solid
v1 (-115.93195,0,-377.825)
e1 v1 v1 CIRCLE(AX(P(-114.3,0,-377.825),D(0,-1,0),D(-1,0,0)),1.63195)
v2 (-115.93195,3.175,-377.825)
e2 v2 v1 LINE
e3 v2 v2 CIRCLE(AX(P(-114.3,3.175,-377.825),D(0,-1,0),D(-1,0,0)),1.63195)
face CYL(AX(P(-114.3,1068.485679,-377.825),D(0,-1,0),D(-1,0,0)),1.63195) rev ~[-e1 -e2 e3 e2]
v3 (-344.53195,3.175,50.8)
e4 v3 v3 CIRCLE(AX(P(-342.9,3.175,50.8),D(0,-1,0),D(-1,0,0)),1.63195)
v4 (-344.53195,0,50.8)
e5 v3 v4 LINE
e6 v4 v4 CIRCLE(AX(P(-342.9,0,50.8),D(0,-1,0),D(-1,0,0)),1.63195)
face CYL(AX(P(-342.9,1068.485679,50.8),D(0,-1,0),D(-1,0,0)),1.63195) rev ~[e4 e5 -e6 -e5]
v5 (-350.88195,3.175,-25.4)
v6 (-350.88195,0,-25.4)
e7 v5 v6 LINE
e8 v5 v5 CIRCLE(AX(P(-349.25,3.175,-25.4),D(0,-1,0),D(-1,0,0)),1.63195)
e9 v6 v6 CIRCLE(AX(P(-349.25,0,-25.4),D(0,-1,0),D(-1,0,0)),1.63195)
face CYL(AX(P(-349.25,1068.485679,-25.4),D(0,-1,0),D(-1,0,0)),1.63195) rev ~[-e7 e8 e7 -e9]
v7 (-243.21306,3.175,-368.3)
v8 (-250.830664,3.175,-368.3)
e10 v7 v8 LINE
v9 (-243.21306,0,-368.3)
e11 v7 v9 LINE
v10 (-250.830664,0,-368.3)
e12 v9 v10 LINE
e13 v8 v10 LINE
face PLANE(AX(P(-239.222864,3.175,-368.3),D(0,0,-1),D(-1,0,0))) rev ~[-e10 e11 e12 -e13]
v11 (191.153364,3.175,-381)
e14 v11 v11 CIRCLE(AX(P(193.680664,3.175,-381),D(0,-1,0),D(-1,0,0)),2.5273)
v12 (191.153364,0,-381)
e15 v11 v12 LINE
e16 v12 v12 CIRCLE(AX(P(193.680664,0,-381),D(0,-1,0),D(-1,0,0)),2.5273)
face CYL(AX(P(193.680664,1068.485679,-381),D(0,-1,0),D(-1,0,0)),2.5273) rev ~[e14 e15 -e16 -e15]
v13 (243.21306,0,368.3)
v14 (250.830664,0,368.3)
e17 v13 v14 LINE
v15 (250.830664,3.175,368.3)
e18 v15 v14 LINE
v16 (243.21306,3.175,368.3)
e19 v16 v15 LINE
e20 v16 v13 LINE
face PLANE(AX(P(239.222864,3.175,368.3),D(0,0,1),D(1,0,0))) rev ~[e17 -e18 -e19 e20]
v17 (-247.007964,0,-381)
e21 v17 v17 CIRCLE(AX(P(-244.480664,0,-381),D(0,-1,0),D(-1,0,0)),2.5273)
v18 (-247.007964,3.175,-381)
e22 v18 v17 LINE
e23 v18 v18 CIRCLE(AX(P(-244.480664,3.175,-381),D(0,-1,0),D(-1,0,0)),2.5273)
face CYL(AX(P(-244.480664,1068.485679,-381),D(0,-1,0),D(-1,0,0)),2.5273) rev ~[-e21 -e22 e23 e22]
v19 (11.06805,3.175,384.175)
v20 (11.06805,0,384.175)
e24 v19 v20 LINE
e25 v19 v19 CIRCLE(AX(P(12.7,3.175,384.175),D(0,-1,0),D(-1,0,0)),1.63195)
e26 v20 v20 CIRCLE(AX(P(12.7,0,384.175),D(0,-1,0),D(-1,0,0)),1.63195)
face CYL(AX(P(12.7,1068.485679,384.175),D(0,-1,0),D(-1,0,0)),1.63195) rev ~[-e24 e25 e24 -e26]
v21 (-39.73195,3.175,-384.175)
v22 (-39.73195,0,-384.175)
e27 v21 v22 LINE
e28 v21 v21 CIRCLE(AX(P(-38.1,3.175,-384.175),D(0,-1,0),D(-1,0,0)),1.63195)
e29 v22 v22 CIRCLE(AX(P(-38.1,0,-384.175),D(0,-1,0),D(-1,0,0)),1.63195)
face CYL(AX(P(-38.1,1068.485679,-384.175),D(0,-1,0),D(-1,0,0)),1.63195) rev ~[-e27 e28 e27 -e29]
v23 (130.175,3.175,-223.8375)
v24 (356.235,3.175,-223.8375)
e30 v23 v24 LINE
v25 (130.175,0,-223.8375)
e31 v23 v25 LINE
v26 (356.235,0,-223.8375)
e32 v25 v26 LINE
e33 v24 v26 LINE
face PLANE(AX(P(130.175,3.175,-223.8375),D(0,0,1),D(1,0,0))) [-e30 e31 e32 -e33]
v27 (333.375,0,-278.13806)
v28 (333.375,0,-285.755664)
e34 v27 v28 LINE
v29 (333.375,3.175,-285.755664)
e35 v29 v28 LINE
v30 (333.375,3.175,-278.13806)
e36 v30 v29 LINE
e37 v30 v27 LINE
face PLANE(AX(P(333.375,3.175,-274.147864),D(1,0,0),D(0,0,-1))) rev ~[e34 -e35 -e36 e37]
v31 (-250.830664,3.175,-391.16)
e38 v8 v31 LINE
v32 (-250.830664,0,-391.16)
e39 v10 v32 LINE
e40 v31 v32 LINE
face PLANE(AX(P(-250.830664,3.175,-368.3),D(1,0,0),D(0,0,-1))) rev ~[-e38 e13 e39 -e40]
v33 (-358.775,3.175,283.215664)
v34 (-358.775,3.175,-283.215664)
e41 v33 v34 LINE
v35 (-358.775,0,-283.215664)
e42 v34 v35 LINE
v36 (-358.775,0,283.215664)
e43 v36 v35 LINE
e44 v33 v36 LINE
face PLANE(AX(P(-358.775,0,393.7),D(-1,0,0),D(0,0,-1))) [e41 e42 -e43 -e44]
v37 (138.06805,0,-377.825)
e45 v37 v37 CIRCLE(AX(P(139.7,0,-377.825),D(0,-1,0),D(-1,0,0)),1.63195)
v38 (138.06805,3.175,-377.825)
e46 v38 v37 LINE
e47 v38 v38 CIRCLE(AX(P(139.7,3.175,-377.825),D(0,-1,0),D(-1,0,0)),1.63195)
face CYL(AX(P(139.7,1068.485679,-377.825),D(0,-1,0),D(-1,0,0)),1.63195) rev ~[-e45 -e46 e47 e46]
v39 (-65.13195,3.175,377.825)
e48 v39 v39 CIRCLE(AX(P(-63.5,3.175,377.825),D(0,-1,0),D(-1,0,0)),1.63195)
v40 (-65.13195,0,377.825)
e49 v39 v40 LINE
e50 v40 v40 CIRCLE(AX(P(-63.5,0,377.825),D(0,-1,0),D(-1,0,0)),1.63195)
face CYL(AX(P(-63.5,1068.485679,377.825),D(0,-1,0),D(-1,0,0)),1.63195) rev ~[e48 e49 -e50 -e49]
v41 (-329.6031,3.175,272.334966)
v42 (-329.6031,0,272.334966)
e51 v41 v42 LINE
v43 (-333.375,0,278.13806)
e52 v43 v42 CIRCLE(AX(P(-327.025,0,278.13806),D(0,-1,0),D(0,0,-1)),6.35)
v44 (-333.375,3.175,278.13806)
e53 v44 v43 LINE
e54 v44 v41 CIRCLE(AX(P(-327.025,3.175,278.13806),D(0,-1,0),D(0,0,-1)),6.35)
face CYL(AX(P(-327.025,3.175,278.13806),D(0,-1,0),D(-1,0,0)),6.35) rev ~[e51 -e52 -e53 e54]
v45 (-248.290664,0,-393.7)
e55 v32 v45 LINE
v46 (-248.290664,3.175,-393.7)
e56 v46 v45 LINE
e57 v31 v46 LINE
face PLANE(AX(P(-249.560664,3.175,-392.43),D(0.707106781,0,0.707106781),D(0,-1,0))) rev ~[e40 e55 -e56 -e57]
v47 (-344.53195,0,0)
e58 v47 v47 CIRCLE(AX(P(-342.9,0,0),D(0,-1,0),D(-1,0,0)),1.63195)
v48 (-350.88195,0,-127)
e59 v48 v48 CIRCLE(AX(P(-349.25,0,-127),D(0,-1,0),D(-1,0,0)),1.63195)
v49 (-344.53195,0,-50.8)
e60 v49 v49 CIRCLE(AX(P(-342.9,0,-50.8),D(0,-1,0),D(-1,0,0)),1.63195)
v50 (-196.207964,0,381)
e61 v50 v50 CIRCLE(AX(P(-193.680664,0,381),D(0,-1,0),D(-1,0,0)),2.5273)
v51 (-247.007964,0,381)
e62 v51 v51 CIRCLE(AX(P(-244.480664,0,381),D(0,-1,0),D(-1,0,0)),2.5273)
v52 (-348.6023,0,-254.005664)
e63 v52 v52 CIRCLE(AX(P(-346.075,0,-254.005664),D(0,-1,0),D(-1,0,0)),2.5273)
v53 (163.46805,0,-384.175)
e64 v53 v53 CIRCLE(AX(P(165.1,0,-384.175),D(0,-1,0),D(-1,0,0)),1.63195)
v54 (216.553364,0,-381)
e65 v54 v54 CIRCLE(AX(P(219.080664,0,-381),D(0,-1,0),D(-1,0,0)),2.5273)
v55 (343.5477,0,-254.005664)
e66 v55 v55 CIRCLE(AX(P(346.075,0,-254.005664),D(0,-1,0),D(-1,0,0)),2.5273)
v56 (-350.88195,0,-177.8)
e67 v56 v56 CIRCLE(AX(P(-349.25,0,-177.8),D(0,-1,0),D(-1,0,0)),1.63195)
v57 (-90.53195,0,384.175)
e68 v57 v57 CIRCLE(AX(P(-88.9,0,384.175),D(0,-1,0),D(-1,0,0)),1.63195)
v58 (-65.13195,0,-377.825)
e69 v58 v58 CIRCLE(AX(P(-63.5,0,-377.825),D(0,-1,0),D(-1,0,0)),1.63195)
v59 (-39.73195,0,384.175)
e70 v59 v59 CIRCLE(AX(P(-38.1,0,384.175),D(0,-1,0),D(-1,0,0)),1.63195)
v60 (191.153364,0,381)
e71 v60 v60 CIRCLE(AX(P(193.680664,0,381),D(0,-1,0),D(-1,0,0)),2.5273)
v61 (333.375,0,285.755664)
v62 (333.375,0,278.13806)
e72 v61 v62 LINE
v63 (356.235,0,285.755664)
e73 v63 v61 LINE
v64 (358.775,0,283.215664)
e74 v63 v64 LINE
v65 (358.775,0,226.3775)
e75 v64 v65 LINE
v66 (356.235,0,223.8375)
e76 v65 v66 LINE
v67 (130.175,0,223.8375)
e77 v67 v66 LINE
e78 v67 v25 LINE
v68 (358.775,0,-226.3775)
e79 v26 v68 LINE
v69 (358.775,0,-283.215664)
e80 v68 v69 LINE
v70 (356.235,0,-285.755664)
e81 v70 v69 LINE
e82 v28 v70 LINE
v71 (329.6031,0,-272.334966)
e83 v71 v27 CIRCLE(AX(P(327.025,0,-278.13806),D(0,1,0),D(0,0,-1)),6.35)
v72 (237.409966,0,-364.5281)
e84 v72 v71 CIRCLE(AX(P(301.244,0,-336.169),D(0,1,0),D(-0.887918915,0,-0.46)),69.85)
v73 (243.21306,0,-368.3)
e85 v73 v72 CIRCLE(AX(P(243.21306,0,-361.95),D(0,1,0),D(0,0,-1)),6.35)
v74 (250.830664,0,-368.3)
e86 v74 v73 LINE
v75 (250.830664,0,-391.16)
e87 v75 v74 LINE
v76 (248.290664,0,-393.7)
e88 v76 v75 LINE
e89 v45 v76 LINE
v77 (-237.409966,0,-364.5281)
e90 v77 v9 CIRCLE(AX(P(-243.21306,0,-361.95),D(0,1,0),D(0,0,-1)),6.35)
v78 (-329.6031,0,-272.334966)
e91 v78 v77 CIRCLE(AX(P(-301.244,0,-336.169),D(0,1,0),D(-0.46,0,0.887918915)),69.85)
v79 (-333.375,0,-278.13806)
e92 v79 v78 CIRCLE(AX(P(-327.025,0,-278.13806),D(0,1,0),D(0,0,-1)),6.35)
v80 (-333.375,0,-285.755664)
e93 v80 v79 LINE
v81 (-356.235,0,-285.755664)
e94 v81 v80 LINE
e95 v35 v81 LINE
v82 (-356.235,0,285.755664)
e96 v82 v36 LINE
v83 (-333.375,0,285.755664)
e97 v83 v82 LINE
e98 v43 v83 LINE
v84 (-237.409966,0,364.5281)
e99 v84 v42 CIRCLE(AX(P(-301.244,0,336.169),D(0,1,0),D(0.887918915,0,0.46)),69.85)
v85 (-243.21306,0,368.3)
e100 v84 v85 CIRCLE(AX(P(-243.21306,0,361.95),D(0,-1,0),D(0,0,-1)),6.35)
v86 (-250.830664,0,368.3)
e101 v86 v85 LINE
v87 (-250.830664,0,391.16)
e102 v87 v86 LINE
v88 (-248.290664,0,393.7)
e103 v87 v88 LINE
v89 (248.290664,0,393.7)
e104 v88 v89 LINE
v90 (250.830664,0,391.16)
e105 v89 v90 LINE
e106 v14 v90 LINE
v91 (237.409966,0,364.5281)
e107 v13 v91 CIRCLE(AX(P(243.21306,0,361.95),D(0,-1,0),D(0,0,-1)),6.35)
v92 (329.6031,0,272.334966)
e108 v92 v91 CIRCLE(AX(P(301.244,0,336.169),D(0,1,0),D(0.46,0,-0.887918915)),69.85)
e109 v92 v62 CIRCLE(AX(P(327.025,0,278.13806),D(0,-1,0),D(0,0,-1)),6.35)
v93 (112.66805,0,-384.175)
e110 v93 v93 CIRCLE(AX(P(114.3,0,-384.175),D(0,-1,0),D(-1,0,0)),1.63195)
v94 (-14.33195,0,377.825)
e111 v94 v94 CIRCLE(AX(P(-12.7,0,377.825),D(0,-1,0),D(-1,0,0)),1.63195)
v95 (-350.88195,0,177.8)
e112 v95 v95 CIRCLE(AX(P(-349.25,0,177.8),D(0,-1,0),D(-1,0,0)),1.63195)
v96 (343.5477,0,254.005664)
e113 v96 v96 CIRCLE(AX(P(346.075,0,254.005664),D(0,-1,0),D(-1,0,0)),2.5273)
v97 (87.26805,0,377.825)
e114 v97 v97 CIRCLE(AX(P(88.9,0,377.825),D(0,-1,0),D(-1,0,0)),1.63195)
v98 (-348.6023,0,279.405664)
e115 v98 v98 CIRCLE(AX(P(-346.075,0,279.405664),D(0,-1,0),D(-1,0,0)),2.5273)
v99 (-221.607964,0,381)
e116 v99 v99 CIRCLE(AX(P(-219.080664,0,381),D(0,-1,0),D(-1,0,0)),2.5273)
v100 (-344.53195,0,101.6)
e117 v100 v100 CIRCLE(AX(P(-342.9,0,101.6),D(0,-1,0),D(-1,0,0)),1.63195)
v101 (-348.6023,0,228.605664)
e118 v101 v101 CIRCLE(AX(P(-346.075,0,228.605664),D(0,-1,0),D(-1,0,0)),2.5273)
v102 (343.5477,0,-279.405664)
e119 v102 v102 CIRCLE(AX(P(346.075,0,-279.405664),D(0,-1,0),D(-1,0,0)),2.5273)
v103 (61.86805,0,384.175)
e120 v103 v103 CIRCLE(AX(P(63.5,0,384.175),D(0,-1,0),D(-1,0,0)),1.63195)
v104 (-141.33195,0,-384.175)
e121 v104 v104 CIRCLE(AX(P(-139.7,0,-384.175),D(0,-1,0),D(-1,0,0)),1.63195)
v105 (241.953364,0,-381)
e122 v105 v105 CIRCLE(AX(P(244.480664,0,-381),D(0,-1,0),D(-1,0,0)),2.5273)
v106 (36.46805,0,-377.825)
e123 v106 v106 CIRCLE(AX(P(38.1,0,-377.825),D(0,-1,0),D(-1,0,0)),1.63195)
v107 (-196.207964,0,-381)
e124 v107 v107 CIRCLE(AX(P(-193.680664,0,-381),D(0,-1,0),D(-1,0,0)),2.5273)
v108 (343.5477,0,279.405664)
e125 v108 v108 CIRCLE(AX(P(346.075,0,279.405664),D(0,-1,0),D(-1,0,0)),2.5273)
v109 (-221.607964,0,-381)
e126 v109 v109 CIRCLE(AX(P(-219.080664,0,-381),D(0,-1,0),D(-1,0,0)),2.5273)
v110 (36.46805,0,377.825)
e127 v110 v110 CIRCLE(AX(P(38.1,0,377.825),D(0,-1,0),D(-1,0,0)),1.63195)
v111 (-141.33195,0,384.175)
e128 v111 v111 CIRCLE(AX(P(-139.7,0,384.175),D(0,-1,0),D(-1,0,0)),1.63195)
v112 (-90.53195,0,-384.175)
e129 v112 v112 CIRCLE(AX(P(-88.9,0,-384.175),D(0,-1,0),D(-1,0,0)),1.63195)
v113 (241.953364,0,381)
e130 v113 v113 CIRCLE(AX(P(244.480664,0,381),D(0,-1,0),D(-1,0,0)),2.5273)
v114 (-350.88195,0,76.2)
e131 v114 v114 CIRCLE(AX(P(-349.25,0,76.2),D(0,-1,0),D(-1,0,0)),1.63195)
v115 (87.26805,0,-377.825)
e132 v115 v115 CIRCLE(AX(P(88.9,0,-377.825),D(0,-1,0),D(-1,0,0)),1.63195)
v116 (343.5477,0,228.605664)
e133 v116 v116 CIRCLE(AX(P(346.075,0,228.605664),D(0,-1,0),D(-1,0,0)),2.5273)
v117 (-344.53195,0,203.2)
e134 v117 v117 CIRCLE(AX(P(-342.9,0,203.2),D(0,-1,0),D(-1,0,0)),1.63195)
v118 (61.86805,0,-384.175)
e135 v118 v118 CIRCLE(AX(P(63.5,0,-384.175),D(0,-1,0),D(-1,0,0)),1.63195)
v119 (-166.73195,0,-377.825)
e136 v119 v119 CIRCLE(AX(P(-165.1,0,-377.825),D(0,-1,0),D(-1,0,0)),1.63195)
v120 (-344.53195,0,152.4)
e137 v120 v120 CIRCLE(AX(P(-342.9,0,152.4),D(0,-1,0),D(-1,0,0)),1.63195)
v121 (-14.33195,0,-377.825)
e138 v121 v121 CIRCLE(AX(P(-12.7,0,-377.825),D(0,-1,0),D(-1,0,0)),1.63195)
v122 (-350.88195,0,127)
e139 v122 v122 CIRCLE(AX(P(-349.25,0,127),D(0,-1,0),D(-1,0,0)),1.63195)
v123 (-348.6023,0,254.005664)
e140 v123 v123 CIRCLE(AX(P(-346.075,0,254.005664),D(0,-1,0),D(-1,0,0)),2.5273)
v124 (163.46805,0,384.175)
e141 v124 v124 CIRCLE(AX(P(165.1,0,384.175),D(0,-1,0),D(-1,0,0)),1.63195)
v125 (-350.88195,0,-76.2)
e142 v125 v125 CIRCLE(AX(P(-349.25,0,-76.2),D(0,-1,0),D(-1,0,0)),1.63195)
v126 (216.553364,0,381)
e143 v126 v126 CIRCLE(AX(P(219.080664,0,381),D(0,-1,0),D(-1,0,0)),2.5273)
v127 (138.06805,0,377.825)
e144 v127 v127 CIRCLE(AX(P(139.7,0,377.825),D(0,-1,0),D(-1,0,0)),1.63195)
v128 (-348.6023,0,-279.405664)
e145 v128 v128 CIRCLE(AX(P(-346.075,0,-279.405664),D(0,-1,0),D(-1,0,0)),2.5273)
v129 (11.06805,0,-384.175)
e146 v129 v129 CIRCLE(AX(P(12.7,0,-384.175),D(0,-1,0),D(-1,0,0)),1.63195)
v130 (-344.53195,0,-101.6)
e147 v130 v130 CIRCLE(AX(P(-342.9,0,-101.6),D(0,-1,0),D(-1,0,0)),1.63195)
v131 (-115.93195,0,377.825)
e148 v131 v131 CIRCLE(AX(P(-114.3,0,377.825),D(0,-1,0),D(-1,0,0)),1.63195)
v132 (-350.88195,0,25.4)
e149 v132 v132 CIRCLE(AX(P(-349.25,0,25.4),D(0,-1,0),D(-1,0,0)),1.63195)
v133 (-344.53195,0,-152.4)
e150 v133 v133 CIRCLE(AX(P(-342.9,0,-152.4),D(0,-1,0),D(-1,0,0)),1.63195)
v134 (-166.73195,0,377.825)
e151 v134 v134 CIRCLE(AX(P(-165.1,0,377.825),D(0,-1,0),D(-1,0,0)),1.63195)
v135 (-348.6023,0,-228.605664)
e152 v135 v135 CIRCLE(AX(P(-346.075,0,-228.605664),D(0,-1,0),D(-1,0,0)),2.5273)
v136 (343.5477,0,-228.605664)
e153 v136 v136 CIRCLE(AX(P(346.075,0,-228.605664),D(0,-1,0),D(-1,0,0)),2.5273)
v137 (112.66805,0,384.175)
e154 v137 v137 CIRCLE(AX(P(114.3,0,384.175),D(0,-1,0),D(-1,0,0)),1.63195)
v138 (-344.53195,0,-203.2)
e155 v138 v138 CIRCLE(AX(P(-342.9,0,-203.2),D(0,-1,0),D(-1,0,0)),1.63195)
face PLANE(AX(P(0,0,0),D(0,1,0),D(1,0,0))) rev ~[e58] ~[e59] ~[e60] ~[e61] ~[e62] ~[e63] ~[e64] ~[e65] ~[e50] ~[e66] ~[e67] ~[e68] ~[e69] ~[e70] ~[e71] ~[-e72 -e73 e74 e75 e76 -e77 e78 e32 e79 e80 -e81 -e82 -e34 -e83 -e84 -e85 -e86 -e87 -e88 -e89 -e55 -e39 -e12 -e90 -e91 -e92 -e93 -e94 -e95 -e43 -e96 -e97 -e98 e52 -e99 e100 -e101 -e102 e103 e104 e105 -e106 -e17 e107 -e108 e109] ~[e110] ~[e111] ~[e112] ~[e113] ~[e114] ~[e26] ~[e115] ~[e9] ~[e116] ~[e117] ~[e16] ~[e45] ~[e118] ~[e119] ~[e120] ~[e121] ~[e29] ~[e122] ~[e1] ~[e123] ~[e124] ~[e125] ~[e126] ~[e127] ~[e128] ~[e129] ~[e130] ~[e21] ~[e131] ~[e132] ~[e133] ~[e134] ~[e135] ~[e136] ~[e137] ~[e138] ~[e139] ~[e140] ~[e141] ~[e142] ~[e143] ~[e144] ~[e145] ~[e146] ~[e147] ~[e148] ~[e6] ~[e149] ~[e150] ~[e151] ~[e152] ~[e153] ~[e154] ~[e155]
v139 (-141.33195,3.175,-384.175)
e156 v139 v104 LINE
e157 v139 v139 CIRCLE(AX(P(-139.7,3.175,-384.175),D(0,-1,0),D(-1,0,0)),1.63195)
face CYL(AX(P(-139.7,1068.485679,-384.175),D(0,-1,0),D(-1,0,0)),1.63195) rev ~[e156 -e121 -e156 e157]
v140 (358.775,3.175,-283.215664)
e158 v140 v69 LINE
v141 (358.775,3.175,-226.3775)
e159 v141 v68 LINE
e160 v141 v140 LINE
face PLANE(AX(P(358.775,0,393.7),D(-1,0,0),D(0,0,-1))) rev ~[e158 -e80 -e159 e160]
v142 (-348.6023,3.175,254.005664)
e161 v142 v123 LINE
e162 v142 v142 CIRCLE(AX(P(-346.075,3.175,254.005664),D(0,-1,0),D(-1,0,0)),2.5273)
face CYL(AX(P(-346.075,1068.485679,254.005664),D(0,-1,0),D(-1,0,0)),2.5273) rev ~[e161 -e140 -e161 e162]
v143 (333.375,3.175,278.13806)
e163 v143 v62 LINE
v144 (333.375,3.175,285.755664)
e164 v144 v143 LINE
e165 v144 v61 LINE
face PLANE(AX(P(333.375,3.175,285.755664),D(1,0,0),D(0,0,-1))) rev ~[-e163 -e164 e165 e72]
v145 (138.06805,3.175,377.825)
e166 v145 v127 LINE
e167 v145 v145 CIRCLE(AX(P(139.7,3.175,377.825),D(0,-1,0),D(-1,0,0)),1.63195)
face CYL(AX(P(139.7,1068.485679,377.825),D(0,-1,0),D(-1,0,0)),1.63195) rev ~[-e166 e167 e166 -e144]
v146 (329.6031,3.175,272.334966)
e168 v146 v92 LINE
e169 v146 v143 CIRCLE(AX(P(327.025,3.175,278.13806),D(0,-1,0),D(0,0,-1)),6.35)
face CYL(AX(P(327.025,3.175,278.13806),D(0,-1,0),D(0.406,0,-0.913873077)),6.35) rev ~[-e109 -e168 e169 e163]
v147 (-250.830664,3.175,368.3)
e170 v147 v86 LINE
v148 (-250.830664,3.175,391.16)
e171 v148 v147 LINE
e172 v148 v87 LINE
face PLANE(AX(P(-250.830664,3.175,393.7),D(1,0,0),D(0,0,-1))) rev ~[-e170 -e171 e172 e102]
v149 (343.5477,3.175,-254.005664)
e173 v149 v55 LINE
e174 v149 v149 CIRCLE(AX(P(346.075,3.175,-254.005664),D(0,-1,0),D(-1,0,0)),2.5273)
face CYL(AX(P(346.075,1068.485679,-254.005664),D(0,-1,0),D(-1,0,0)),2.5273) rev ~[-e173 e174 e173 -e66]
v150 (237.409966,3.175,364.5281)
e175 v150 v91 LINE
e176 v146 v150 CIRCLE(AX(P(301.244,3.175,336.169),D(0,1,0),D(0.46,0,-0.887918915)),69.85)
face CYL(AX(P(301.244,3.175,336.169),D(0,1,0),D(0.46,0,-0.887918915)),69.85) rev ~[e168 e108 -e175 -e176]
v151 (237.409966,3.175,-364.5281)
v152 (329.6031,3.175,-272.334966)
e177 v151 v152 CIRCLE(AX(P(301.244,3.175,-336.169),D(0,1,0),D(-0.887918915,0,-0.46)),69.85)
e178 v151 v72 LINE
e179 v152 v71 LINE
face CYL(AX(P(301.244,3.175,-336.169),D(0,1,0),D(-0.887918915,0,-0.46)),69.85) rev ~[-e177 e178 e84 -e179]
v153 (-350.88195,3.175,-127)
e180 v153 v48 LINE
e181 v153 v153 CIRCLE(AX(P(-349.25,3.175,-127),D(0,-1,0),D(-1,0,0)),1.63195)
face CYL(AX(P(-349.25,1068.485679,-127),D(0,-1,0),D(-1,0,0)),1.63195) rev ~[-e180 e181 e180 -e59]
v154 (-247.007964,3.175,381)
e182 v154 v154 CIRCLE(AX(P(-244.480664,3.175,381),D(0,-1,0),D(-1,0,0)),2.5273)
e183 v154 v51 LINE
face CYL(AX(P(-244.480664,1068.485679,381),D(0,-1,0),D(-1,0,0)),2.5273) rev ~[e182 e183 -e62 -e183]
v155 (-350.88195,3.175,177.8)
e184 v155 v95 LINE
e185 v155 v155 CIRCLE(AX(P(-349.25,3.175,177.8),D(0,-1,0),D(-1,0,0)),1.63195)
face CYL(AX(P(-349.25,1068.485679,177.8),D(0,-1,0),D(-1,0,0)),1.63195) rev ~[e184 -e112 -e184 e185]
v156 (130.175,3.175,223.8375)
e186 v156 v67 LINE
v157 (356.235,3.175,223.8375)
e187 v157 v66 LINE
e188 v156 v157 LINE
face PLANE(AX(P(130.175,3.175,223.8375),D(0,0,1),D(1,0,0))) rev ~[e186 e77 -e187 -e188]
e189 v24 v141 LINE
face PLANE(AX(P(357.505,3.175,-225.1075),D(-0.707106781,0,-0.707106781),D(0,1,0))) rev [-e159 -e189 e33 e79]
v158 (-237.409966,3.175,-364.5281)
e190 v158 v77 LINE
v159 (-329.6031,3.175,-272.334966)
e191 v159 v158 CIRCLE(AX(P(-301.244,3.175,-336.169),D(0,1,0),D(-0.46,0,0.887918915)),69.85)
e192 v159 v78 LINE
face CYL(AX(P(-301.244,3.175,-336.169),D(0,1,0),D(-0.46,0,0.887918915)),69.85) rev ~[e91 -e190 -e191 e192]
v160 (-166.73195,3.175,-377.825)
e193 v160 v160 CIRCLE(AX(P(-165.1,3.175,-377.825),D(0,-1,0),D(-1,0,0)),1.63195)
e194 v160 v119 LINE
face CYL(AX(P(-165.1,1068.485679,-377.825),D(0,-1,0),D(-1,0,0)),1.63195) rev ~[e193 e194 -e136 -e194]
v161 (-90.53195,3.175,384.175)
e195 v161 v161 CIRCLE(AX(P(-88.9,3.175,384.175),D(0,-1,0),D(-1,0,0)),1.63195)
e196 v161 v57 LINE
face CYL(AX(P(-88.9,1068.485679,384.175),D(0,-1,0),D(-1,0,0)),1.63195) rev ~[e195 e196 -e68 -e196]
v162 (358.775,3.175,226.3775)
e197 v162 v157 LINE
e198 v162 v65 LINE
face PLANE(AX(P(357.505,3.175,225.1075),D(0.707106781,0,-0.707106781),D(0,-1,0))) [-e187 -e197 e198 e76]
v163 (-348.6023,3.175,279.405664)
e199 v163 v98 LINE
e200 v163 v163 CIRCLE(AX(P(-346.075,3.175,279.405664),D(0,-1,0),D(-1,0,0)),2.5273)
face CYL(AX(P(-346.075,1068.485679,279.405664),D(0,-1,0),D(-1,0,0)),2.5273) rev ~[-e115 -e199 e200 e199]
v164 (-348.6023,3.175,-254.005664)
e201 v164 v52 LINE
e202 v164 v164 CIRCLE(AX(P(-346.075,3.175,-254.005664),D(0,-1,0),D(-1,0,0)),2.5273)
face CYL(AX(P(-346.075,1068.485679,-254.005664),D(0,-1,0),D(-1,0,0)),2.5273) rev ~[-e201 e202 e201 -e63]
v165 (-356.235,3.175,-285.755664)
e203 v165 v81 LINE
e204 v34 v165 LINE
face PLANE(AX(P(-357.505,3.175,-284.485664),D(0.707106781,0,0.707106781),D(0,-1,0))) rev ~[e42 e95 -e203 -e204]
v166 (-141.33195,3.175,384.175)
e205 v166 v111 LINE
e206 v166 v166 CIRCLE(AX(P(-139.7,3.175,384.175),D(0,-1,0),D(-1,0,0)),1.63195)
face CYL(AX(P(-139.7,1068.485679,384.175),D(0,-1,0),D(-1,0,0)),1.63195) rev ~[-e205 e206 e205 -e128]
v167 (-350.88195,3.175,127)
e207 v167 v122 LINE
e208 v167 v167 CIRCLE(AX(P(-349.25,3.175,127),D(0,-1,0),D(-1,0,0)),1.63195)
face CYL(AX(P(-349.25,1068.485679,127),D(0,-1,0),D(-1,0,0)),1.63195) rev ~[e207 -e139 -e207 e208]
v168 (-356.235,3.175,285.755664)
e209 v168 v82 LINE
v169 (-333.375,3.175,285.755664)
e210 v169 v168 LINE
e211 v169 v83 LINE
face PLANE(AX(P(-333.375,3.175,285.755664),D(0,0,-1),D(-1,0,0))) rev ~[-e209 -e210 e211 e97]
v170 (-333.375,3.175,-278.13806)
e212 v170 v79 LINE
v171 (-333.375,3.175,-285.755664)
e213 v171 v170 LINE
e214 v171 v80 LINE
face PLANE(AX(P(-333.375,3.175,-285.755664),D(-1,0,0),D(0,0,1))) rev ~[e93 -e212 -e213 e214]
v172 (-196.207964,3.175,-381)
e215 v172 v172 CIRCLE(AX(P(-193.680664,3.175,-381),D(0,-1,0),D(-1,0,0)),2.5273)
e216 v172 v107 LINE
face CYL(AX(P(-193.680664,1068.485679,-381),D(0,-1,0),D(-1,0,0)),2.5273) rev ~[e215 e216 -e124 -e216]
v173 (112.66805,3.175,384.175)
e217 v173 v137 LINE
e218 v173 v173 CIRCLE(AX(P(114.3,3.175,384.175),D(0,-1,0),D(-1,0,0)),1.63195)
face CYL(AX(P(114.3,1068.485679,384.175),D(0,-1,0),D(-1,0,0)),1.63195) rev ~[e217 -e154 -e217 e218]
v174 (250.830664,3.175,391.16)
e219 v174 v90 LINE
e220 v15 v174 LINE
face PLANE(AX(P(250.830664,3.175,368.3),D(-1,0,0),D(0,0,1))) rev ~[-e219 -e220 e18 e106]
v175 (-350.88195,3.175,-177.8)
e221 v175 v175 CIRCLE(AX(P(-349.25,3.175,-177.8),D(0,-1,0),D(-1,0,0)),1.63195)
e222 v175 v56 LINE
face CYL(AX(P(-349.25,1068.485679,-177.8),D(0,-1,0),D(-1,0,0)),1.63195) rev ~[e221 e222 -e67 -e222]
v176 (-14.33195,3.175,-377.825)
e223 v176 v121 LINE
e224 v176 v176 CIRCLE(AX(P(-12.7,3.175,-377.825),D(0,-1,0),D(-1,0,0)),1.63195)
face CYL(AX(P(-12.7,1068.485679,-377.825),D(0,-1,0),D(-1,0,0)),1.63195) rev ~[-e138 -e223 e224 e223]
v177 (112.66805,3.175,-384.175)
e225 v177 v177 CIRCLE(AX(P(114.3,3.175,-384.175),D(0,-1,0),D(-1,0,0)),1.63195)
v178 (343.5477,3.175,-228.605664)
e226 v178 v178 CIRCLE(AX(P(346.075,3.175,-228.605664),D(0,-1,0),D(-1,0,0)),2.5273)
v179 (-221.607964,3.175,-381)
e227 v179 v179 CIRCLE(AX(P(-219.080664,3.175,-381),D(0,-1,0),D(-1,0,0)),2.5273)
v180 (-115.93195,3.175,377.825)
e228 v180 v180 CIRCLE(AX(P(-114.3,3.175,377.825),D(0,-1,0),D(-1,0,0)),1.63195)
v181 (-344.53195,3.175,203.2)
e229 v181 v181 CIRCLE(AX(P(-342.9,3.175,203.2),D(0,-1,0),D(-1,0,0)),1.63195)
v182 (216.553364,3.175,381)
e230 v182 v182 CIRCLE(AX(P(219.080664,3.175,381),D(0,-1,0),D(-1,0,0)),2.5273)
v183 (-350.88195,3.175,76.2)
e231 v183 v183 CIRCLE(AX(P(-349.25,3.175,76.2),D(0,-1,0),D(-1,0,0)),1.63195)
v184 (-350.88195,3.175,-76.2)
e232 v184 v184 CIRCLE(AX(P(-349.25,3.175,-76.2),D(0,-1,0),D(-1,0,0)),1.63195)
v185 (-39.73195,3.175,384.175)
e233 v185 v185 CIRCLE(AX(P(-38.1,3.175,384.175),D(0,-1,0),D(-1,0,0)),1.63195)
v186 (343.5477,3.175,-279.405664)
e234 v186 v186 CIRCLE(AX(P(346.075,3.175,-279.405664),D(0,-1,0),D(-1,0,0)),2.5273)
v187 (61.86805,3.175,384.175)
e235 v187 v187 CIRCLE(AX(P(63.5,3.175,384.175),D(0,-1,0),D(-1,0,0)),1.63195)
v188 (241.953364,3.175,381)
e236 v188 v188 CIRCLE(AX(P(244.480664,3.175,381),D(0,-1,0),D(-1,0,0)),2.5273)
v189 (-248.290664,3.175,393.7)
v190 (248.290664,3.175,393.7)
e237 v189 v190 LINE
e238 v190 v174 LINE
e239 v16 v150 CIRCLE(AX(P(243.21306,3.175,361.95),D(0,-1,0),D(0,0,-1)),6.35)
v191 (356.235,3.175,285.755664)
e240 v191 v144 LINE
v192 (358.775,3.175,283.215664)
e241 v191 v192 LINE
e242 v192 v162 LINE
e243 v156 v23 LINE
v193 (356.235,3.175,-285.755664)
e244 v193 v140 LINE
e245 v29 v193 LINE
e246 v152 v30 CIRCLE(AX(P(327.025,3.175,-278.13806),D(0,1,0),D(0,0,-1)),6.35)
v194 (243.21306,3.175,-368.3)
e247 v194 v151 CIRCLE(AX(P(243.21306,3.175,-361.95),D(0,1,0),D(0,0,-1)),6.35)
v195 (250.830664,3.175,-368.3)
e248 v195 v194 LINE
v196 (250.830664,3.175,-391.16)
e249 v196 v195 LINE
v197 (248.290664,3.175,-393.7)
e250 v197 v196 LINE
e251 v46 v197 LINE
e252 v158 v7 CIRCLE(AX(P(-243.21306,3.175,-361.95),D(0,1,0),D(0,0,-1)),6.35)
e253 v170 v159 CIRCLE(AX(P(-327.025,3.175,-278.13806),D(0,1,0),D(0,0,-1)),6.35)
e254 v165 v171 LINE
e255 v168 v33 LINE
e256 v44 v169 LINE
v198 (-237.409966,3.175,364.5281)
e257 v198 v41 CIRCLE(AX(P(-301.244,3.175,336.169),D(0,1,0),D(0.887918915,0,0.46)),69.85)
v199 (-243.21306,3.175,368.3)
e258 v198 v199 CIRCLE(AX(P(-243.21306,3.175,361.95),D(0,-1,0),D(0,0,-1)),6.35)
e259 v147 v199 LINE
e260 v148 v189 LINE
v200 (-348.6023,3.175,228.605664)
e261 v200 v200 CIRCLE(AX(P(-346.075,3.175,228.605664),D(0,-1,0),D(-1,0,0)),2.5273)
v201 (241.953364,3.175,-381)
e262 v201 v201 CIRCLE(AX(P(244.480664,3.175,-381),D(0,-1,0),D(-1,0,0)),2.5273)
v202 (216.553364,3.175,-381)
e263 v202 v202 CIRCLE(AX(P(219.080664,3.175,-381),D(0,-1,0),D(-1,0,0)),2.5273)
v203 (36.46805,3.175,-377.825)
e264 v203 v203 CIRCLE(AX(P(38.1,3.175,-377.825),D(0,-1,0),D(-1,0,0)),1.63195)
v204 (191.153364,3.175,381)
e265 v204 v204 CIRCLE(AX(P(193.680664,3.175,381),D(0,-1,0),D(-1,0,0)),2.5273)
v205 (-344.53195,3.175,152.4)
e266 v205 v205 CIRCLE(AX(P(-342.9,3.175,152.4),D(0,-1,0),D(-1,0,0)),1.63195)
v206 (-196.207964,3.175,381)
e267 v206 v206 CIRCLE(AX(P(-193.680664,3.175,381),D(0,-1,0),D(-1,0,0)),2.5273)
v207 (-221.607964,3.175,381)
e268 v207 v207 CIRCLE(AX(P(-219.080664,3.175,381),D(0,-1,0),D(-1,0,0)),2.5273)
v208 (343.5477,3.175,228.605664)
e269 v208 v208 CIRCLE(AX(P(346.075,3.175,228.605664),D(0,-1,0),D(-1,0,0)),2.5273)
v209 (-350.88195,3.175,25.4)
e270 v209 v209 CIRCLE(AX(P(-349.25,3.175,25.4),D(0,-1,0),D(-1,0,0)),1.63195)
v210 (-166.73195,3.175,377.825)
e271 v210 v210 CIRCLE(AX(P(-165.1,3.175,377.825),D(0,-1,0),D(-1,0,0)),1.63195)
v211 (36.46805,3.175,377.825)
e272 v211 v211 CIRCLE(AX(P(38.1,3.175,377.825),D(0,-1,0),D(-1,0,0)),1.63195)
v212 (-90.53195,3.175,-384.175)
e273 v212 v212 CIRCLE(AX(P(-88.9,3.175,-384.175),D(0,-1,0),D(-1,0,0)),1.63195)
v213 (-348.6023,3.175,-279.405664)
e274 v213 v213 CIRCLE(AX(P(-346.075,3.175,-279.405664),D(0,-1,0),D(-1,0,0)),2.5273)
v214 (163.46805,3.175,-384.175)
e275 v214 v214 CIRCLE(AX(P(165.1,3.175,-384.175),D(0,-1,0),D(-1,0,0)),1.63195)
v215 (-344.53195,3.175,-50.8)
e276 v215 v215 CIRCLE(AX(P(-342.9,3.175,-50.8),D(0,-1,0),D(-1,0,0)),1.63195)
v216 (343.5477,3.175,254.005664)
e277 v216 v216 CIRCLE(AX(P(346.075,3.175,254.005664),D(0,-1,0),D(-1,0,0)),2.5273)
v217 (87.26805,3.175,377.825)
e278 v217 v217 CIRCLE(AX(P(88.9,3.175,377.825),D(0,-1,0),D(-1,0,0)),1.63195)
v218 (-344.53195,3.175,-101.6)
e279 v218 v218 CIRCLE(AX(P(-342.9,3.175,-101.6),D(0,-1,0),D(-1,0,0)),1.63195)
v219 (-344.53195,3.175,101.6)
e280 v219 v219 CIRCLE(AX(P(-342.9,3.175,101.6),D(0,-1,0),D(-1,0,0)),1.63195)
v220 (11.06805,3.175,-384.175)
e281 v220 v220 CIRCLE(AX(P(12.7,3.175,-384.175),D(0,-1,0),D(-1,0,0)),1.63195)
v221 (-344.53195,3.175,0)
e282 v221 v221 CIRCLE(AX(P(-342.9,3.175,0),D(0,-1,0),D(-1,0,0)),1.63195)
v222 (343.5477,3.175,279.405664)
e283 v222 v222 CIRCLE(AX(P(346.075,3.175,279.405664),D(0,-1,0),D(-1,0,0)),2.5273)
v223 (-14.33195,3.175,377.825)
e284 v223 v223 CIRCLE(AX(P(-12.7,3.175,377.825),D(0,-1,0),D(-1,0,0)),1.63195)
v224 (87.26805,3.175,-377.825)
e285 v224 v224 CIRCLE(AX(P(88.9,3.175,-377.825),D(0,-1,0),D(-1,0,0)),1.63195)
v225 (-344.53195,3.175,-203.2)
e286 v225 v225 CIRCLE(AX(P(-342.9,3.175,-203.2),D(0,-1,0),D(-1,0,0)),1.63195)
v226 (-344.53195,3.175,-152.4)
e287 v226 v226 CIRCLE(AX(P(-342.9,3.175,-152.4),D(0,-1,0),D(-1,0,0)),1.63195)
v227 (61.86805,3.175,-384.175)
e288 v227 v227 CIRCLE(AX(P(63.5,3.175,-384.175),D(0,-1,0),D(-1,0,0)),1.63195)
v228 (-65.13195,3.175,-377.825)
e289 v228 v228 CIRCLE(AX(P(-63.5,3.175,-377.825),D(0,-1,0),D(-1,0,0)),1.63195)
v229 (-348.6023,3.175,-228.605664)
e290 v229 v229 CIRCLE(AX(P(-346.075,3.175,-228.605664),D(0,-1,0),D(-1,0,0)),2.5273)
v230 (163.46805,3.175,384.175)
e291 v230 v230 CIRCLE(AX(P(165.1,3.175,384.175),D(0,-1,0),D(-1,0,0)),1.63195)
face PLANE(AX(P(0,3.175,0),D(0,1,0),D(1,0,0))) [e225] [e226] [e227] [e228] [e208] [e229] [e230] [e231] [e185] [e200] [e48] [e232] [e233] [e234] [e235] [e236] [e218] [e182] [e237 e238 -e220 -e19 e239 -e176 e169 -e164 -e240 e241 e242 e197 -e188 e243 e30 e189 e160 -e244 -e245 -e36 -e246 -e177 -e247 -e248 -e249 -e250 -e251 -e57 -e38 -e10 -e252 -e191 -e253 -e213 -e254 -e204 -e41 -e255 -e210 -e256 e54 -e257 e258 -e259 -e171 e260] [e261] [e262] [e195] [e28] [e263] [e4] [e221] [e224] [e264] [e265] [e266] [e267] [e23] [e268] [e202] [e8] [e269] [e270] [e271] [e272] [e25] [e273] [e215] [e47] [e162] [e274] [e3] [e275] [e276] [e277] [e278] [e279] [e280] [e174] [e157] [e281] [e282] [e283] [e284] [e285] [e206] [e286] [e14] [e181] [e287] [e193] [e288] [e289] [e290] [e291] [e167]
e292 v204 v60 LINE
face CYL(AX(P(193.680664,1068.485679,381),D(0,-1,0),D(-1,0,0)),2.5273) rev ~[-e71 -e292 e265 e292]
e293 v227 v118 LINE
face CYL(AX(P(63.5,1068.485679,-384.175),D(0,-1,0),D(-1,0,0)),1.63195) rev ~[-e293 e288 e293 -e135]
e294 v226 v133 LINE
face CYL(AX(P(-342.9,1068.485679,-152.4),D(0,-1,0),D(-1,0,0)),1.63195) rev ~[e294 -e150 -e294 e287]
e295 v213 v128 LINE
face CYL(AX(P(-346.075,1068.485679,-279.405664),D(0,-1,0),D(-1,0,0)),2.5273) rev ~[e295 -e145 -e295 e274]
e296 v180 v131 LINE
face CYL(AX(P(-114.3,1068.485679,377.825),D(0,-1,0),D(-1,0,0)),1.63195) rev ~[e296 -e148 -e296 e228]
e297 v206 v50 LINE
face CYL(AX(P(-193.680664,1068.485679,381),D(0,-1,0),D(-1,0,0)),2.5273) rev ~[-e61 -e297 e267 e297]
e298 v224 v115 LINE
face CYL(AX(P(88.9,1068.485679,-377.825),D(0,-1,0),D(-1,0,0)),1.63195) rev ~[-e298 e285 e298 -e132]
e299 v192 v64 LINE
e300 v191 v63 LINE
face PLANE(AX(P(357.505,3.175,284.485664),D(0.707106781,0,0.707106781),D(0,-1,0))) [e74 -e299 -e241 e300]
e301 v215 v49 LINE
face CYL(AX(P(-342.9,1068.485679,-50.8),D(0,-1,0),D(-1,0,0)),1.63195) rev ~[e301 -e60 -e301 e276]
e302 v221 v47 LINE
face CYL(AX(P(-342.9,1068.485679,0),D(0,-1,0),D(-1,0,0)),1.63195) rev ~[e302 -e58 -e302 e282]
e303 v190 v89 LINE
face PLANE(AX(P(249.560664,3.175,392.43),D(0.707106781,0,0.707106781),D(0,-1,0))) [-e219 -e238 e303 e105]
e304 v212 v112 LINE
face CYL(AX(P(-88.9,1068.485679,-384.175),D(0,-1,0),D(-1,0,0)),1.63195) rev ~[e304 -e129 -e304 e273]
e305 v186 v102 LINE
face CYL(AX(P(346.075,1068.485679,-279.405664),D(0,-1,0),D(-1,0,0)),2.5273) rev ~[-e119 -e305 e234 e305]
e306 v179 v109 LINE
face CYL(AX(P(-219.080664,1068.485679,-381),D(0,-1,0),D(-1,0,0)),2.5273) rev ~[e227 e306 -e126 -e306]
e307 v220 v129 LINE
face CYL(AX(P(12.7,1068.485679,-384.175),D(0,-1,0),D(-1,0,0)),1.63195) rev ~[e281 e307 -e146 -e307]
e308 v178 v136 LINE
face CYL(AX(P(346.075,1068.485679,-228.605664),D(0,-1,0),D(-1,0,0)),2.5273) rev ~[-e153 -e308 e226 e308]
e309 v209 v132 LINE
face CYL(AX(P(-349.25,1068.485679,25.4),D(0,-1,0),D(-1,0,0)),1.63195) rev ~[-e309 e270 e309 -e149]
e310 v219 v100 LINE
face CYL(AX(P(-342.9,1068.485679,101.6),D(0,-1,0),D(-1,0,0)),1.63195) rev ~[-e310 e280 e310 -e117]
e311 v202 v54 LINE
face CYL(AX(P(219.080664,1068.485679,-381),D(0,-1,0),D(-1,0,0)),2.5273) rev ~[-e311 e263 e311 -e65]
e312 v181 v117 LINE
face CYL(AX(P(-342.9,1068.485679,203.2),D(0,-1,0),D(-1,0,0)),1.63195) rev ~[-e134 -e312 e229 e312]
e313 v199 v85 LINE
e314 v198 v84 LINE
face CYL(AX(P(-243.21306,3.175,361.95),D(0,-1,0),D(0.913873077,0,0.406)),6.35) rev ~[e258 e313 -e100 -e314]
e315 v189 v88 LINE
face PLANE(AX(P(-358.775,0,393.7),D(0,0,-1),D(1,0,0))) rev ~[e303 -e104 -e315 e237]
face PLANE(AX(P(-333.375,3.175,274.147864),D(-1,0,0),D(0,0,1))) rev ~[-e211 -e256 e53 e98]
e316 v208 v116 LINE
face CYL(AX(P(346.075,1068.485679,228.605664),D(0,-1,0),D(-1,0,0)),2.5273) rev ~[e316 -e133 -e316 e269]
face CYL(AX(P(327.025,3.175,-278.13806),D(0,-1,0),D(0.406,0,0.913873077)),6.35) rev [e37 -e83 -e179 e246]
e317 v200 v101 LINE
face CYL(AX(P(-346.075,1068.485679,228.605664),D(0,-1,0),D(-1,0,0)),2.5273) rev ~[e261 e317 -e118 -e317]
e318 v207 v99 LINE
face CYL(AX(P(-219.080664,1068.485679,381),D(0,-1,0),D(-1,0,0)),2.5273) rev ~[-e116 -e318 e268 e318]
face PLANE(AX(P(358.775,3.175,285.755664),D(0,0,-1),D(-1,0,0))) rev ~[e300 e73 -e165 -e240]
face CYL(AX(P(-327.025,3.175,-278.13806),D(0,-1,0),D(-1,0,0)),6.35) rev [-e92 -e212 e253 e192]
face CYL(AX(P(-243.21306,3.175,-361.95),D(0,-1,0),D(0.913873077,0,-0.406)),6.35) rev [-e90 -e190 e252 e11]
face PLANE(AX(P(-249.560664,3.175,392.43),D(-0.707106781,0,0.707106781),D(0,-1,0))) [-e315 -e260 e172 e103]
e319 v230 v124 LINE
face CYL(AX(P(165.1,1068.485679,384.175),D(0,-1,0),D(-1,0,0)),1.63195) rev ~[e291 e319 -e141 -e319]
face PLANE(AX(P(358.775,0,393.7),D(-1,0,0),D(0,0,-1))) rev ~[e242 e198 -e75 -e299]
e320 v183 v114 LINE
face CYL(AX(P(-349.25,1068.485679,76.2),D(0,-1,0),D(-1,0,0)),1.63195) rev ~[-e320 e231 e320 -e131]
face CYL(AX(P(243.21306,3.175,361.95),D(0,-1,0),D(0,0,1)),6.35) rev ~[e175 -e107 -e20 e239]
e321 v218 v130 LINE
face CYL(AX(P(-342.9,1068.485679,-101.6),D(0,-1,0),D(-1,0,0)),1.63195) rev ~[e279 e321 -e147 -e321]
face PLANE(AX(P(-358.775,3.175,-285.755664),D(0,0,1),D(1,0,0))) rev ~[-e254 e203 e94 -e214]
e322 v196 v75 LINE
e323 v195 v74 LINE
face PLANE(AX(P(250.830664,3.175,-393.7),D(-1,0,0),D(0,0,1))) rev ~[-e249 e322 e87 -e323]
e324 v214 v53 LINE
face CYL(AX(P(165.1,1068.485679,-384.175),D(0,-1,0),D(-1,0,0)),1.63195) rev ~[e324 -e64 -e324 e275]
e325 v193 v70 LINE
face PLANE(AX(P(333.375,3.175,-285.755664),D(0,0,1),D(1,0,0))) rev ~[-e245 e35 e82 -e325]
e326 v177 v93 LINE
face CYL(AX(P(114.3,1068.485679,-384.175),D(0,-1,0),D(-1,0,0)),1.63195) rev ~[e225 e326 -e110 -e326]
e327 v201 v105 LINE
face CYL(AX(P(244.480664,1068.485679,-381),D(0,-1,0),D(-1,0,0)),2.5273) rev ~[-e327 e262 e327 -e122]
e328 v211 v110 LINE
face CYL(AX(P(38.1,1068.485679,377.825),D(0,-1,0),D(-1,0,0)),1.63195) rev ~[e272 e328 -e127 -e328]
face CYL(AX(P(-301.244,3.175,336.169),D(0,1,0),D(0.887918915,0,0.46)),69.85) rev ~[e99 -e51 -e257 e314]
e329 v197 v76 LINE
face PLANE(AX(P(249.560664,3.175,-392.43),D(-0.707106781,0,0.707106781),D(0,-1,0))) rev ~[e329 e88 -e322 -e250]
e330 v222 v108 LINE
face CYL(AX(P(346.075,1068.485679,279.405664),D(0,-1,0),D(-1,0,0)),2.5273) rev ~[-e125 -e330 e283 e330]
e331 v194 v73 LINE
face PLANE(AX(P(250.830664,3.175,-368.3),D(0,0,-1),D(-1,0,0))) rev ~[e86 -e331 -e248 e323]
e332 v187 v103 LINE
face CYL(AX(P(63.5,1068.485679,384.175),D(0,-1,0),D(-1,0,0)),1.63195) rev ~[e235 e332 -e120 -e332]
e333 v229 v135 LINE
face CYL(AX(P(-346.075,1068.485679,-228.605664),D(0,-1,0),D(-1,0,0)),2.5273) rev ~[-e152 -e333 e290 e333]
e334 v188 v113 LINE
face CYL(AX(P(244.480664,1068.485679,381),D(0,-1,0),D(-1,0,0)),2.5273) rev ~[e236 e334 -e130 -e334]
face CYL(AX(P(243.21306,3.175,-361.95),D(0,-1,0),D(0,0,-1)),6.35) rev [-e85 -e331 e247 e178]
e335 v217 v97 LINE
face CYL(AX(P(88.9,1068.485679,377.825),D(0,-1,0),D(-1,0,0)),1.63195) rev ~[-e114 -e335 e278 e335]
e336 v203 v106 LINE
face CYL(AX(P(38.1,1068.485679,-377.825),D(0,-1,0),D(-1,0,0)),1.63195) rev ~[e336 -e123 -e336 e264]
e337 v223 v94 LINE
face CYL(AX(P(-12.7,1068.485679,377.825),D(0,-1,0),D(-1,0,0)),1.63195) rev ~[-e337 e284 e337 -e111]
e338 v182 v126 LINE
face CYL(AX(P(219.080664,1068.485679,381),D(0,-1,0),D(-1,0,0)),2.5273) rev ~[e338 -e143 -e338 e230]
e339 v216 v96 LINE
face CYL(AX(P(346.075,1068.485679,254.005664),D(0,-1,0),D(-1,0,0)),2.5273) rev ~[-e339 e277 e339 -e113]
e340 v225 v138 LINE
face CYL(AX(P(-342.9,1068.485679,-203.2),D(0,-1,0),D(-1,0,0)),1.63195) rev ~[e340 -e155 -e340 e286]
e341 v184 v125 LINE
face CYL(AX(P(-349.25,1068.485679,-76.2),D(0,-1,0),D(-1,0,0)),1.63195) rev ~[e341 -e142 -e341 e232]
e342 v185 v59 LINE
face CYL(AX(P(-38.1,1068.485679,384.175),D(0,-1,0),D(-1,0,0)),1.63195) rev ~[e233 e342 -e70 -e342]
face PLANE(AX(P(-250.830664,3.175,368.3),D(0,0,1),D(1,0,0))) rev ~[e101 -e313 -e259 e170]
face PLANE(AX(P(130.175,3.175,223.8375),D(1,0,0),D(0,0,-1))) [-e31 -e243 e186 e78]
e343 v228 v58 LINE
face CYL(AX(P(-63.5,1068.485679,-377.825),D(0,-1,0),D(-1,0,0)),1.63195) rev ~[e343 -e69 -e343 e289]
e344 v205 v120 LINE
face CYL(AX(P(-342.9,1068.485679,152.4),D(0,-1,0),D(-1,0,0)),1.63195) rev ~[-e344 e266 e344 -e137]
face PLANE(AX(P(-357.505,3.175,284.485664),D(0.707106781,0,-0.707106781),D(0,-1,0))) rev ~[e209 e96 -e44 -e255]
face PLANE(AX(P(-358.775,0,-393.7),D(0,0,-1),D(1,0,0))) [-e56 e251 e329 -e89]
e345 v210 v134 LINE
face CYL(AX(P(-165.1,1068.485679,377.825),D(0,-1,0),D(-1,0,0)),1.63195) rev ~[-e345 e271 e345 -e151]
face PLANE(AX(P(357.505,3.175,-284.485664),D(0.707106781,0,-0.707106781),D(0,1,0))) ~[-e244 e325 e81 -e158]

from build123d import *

# Parameters (mm, degrees)
SKETCH1_W                    = 717.55
SKETCH1_H                    = 787.4
BOSS_EXTRUDE1_DEPTH          = 3.175
SWERVE_CUTOUT_DEPTH          = 533.662436492
SKETCH2_W                    = 228.6
SKETCH2_H                    = 447.675
INTAKE_CUTOUT_DEPTH          = 3.175
F_8_0_199_DIAMETER_HOLE1_D   = 5.0546
F_30_0_1285_DIAMETER_HOLE1_D = 3.2639
FILLET1_R                    = 6.35
CHAMFER1_SIZE                = 2.54


with BuildPart() as part:
    # Sketch1 → Boss-Extrude1 (new body)
    with BuildSketch(Plane(origin=(0, 0, 0), x_dir=(1, 0, 0), z_dir=(0, 1, 0))):
        Rectangle(SKETCH1_W, SKETCH1_H)
    extrude(amount=BOSS_EXTRUDE1_DEPTH)

    # Sketch8 → Swerve Cutout (cut, through all)
    with BuildSketch(Plane(origin=(0, 3.175, 0), x_dir=(1, 0, 0), z_dir=(0, 1, 0))):
        with BuildLine():
            Line((358.775, 285.755663772), (358.775, 393.7))
            Line((358.775, 393.7), (250.830663772, 393.7))
            Line((250.830663772, 393.7), (250.830663772, 368.3))
            Line((250.830663772, 368.3), (239.222863772, 368.3))
            ThreePointArc((239.222863772, 368.3), (251.852591334, 286.777591334), (333.375, 274.147863772))
            Line((333.375, 274.147863772), (333.375, 285.755663772))
            Line((333.375, 285.755663772), (358.775, 285.755663772))
        make_face()
        with BuildLine():
            Line((333.375, -285.755663772), (333.375, -274.147863772))
            ThreePointArc((333.375, -274.147863772), (251.852591334, -286.777591334), (239.222863772, -368.3))
            Line((239.222863772, -368.3), (250.830663772, -368.3))
            Line((250.830663772, -368.3), (250.830663772, -393.7))
            Line((250.830663772, -393.7), (358.775, -393.7))
            Line((358.775, -393.7), (358.775, -285.755663772))
            Line((358.775, -285.755663772), (333.375, -285.755663772))
        make_face()
        with BuildLine():
            Line((-358.775, -285.755663772), (-358.775, -393.7))
            Line((-358.775, -393.7), (-250.830663772, -393.7))
            Line((-250.830663772, -393.7), (-250.830663772, -368.3))
            Line((-250.830663772, -368.3), (-239.222863772, -368.3))
            ThreePointArc((-239.222863772, -368.3), (-251.852591334, -286.777591334), (-333.375, -274.147863772))
            Line((-333.375, -274.147863772), (-333.375, -285.755663772))
            Line((-333.375, -285.755663772), (-358.775, -285.755663772))
        make_face()
        with BuildLine():
            Line((-333.375, 285.755663772), (-333.375, 274.147863772))
            ThreePointArc((-333.375, 274.147863772), (-251.852591334, 286.777591334), (-239.222863772, 368.3))
            Line((-239.222863772, 368.3), (-250.830663772, 368.3))
            Line((-250.830663772, 368.3), (-250.830663772, 393.7))
            Line((-250.830663772, 393.7), (-358.775, 393.7))
            Line((-358.775, 393.7), (-358.775, 285.755663772))
            Line((-358.775, 285.755663772), (-333.375, 285.755663772))
        make_face()
    extrude(amount=-SWERVE_CUTOUT_DEPTH, mode=Mode.SUBTRACT)

    # Sketch2 → Intake Cutout (cut)
    with BuildSketch(Plane(origin=(0, 3.175, 0), x_dir=(1, 0, 0), z_dir=(0, 1, 0))):
        with Locations((244.475, 0)):
            Rectangle(SKETCH2_W, SKETCH2_H)
    extrude(amount=-INTAKE_CUTOUT_DEPTH, mode=Mode.SUBTRACT)

    # #8 (0.199) Diameter Hole1 (through all)
    with Locations(Plane(origin=(0, 3.175, 0), x_dir=(1, 0, 0), z_dir=(0, 1, 0))):
        with Locations((244.480663772, 381), (219.080663772, 381), (193.680663772, 381), (346.075, 279.405663772), (346.075, 254.005663772), (346.075, 228.605663772), (346.075, -228.605663772), (346.075, -254.005663772), (346.075, -279.405663772), (193.680663772, -381), (219.080663772, -381), (244.480663772, -381), (-244.480663772, -381), (-219.080663772, -381), (-193.680663772, -381), (-346.075, -279.405663772), (-346.075, -254.005663772), (-346.075, -228.605663772), (-346.075, 228.605663772), (-346.075, 254.005663772), (-346.075, 279.405663772), (-193.680663772, 381), (-219.080663772, 381), (-244.480663772, 381)):
            Hole(F_8_0_199_DIAMETER_HOLE1_D / 2)

    # #30 (0.1285) Diameter Hole1 (through all)
    with Locations(Plane(origin=(0, 3.175, 0), x_dir=(1, 0, 0), z_dir=(0, 1, 0))):
        with Locations((-139.7, 384.175), (-114.3, 377.825), (-88.9, 384.175), (-63.5, 377.825), (-38.1, 384.175), (-12.7, 377.825), (12.7, 384.175), (38.1, 377.825), (63.5, 384.175), (88.9, 377.825), (114.3, 384.175), (139.7, 377.825), (165.1, 384.175), (-165.1, 377.825), (-165.1, -377.825), (165.1, -384.175), (139.7, -377.825), (114.3, -384.175), (88.9, -377.825), (63.5, -384.175), (38.1, -377.825), (12.7, -384.175), (-12.7, -377.825), (-38.1, -384.175), (-63.5, -377.825), (-88.9, -384.175), (-114.3, -377.825), (-139.7, -384.175), (-342.9, -203.2), (-349.25, -177.8), (-342.9, -152.4), (-349.25, -127), (-342.9, -101.6), (-349.25, -76.2), (-342.9, -50.8), (-349.25, -25.4), (-342.9, 0), (-349.25, 25.4), (-342.9, 50.8), (-349.25, 76.2), (-342.9, 101.6), (-349.25, 127), (-342.9, 152.4), (-349.25, 177.8), (-342.9, 203.2)):
            Hole(F_30_0_1285_DIAMETER_HOLE1_D / 2)

    # Fillet1
    fillet1_edges = [part.edges().sort_by_distance(p)[0] for p in [
        (239.222863772, 1.5875, 368.3),
        (333.375, 1.5875, 274.147863772),
        (-239.222863772, 1.5875, 368.3),
        (-333.375, 1.5875, 274.147863772),
        (-239.222863772, 1.5875, -368.3),
        (-333.375, 1.5875, -274.147863772),
        (239.222863772, 1.5875, -368.3),
        (333.375, 1.5875, -274.147863772),
    ]]
    fillet(fillet1_edges, radius=FILLET1_R)

    # Chamfer1
    chamfer1_edges = [part.edges().sort_by_distance(p)[0] for p in [
        (358.775, 1.5875, -223.8375),
        (358.775, 1.5875, 223.8375),
        (358.775, 1.5875, 285.755663772),
        (250.830663772, 1.5875, 393.7),
        (-250.830663772, 1.5875, 393.7),
        (-358.775, 1.5875, 285.755663772),
        (-358.775, 1.5875, -285.755663772),
        (-250.830663772, 1.5875, -393.7),
        (250.830663772, 1.5875, -393.7),
        (358.775, 1.5875, -285.755663772),
    ]]
    chamfer(chamfer1_edges, length=CHAMFER1_SIZE)


solid = part.part
